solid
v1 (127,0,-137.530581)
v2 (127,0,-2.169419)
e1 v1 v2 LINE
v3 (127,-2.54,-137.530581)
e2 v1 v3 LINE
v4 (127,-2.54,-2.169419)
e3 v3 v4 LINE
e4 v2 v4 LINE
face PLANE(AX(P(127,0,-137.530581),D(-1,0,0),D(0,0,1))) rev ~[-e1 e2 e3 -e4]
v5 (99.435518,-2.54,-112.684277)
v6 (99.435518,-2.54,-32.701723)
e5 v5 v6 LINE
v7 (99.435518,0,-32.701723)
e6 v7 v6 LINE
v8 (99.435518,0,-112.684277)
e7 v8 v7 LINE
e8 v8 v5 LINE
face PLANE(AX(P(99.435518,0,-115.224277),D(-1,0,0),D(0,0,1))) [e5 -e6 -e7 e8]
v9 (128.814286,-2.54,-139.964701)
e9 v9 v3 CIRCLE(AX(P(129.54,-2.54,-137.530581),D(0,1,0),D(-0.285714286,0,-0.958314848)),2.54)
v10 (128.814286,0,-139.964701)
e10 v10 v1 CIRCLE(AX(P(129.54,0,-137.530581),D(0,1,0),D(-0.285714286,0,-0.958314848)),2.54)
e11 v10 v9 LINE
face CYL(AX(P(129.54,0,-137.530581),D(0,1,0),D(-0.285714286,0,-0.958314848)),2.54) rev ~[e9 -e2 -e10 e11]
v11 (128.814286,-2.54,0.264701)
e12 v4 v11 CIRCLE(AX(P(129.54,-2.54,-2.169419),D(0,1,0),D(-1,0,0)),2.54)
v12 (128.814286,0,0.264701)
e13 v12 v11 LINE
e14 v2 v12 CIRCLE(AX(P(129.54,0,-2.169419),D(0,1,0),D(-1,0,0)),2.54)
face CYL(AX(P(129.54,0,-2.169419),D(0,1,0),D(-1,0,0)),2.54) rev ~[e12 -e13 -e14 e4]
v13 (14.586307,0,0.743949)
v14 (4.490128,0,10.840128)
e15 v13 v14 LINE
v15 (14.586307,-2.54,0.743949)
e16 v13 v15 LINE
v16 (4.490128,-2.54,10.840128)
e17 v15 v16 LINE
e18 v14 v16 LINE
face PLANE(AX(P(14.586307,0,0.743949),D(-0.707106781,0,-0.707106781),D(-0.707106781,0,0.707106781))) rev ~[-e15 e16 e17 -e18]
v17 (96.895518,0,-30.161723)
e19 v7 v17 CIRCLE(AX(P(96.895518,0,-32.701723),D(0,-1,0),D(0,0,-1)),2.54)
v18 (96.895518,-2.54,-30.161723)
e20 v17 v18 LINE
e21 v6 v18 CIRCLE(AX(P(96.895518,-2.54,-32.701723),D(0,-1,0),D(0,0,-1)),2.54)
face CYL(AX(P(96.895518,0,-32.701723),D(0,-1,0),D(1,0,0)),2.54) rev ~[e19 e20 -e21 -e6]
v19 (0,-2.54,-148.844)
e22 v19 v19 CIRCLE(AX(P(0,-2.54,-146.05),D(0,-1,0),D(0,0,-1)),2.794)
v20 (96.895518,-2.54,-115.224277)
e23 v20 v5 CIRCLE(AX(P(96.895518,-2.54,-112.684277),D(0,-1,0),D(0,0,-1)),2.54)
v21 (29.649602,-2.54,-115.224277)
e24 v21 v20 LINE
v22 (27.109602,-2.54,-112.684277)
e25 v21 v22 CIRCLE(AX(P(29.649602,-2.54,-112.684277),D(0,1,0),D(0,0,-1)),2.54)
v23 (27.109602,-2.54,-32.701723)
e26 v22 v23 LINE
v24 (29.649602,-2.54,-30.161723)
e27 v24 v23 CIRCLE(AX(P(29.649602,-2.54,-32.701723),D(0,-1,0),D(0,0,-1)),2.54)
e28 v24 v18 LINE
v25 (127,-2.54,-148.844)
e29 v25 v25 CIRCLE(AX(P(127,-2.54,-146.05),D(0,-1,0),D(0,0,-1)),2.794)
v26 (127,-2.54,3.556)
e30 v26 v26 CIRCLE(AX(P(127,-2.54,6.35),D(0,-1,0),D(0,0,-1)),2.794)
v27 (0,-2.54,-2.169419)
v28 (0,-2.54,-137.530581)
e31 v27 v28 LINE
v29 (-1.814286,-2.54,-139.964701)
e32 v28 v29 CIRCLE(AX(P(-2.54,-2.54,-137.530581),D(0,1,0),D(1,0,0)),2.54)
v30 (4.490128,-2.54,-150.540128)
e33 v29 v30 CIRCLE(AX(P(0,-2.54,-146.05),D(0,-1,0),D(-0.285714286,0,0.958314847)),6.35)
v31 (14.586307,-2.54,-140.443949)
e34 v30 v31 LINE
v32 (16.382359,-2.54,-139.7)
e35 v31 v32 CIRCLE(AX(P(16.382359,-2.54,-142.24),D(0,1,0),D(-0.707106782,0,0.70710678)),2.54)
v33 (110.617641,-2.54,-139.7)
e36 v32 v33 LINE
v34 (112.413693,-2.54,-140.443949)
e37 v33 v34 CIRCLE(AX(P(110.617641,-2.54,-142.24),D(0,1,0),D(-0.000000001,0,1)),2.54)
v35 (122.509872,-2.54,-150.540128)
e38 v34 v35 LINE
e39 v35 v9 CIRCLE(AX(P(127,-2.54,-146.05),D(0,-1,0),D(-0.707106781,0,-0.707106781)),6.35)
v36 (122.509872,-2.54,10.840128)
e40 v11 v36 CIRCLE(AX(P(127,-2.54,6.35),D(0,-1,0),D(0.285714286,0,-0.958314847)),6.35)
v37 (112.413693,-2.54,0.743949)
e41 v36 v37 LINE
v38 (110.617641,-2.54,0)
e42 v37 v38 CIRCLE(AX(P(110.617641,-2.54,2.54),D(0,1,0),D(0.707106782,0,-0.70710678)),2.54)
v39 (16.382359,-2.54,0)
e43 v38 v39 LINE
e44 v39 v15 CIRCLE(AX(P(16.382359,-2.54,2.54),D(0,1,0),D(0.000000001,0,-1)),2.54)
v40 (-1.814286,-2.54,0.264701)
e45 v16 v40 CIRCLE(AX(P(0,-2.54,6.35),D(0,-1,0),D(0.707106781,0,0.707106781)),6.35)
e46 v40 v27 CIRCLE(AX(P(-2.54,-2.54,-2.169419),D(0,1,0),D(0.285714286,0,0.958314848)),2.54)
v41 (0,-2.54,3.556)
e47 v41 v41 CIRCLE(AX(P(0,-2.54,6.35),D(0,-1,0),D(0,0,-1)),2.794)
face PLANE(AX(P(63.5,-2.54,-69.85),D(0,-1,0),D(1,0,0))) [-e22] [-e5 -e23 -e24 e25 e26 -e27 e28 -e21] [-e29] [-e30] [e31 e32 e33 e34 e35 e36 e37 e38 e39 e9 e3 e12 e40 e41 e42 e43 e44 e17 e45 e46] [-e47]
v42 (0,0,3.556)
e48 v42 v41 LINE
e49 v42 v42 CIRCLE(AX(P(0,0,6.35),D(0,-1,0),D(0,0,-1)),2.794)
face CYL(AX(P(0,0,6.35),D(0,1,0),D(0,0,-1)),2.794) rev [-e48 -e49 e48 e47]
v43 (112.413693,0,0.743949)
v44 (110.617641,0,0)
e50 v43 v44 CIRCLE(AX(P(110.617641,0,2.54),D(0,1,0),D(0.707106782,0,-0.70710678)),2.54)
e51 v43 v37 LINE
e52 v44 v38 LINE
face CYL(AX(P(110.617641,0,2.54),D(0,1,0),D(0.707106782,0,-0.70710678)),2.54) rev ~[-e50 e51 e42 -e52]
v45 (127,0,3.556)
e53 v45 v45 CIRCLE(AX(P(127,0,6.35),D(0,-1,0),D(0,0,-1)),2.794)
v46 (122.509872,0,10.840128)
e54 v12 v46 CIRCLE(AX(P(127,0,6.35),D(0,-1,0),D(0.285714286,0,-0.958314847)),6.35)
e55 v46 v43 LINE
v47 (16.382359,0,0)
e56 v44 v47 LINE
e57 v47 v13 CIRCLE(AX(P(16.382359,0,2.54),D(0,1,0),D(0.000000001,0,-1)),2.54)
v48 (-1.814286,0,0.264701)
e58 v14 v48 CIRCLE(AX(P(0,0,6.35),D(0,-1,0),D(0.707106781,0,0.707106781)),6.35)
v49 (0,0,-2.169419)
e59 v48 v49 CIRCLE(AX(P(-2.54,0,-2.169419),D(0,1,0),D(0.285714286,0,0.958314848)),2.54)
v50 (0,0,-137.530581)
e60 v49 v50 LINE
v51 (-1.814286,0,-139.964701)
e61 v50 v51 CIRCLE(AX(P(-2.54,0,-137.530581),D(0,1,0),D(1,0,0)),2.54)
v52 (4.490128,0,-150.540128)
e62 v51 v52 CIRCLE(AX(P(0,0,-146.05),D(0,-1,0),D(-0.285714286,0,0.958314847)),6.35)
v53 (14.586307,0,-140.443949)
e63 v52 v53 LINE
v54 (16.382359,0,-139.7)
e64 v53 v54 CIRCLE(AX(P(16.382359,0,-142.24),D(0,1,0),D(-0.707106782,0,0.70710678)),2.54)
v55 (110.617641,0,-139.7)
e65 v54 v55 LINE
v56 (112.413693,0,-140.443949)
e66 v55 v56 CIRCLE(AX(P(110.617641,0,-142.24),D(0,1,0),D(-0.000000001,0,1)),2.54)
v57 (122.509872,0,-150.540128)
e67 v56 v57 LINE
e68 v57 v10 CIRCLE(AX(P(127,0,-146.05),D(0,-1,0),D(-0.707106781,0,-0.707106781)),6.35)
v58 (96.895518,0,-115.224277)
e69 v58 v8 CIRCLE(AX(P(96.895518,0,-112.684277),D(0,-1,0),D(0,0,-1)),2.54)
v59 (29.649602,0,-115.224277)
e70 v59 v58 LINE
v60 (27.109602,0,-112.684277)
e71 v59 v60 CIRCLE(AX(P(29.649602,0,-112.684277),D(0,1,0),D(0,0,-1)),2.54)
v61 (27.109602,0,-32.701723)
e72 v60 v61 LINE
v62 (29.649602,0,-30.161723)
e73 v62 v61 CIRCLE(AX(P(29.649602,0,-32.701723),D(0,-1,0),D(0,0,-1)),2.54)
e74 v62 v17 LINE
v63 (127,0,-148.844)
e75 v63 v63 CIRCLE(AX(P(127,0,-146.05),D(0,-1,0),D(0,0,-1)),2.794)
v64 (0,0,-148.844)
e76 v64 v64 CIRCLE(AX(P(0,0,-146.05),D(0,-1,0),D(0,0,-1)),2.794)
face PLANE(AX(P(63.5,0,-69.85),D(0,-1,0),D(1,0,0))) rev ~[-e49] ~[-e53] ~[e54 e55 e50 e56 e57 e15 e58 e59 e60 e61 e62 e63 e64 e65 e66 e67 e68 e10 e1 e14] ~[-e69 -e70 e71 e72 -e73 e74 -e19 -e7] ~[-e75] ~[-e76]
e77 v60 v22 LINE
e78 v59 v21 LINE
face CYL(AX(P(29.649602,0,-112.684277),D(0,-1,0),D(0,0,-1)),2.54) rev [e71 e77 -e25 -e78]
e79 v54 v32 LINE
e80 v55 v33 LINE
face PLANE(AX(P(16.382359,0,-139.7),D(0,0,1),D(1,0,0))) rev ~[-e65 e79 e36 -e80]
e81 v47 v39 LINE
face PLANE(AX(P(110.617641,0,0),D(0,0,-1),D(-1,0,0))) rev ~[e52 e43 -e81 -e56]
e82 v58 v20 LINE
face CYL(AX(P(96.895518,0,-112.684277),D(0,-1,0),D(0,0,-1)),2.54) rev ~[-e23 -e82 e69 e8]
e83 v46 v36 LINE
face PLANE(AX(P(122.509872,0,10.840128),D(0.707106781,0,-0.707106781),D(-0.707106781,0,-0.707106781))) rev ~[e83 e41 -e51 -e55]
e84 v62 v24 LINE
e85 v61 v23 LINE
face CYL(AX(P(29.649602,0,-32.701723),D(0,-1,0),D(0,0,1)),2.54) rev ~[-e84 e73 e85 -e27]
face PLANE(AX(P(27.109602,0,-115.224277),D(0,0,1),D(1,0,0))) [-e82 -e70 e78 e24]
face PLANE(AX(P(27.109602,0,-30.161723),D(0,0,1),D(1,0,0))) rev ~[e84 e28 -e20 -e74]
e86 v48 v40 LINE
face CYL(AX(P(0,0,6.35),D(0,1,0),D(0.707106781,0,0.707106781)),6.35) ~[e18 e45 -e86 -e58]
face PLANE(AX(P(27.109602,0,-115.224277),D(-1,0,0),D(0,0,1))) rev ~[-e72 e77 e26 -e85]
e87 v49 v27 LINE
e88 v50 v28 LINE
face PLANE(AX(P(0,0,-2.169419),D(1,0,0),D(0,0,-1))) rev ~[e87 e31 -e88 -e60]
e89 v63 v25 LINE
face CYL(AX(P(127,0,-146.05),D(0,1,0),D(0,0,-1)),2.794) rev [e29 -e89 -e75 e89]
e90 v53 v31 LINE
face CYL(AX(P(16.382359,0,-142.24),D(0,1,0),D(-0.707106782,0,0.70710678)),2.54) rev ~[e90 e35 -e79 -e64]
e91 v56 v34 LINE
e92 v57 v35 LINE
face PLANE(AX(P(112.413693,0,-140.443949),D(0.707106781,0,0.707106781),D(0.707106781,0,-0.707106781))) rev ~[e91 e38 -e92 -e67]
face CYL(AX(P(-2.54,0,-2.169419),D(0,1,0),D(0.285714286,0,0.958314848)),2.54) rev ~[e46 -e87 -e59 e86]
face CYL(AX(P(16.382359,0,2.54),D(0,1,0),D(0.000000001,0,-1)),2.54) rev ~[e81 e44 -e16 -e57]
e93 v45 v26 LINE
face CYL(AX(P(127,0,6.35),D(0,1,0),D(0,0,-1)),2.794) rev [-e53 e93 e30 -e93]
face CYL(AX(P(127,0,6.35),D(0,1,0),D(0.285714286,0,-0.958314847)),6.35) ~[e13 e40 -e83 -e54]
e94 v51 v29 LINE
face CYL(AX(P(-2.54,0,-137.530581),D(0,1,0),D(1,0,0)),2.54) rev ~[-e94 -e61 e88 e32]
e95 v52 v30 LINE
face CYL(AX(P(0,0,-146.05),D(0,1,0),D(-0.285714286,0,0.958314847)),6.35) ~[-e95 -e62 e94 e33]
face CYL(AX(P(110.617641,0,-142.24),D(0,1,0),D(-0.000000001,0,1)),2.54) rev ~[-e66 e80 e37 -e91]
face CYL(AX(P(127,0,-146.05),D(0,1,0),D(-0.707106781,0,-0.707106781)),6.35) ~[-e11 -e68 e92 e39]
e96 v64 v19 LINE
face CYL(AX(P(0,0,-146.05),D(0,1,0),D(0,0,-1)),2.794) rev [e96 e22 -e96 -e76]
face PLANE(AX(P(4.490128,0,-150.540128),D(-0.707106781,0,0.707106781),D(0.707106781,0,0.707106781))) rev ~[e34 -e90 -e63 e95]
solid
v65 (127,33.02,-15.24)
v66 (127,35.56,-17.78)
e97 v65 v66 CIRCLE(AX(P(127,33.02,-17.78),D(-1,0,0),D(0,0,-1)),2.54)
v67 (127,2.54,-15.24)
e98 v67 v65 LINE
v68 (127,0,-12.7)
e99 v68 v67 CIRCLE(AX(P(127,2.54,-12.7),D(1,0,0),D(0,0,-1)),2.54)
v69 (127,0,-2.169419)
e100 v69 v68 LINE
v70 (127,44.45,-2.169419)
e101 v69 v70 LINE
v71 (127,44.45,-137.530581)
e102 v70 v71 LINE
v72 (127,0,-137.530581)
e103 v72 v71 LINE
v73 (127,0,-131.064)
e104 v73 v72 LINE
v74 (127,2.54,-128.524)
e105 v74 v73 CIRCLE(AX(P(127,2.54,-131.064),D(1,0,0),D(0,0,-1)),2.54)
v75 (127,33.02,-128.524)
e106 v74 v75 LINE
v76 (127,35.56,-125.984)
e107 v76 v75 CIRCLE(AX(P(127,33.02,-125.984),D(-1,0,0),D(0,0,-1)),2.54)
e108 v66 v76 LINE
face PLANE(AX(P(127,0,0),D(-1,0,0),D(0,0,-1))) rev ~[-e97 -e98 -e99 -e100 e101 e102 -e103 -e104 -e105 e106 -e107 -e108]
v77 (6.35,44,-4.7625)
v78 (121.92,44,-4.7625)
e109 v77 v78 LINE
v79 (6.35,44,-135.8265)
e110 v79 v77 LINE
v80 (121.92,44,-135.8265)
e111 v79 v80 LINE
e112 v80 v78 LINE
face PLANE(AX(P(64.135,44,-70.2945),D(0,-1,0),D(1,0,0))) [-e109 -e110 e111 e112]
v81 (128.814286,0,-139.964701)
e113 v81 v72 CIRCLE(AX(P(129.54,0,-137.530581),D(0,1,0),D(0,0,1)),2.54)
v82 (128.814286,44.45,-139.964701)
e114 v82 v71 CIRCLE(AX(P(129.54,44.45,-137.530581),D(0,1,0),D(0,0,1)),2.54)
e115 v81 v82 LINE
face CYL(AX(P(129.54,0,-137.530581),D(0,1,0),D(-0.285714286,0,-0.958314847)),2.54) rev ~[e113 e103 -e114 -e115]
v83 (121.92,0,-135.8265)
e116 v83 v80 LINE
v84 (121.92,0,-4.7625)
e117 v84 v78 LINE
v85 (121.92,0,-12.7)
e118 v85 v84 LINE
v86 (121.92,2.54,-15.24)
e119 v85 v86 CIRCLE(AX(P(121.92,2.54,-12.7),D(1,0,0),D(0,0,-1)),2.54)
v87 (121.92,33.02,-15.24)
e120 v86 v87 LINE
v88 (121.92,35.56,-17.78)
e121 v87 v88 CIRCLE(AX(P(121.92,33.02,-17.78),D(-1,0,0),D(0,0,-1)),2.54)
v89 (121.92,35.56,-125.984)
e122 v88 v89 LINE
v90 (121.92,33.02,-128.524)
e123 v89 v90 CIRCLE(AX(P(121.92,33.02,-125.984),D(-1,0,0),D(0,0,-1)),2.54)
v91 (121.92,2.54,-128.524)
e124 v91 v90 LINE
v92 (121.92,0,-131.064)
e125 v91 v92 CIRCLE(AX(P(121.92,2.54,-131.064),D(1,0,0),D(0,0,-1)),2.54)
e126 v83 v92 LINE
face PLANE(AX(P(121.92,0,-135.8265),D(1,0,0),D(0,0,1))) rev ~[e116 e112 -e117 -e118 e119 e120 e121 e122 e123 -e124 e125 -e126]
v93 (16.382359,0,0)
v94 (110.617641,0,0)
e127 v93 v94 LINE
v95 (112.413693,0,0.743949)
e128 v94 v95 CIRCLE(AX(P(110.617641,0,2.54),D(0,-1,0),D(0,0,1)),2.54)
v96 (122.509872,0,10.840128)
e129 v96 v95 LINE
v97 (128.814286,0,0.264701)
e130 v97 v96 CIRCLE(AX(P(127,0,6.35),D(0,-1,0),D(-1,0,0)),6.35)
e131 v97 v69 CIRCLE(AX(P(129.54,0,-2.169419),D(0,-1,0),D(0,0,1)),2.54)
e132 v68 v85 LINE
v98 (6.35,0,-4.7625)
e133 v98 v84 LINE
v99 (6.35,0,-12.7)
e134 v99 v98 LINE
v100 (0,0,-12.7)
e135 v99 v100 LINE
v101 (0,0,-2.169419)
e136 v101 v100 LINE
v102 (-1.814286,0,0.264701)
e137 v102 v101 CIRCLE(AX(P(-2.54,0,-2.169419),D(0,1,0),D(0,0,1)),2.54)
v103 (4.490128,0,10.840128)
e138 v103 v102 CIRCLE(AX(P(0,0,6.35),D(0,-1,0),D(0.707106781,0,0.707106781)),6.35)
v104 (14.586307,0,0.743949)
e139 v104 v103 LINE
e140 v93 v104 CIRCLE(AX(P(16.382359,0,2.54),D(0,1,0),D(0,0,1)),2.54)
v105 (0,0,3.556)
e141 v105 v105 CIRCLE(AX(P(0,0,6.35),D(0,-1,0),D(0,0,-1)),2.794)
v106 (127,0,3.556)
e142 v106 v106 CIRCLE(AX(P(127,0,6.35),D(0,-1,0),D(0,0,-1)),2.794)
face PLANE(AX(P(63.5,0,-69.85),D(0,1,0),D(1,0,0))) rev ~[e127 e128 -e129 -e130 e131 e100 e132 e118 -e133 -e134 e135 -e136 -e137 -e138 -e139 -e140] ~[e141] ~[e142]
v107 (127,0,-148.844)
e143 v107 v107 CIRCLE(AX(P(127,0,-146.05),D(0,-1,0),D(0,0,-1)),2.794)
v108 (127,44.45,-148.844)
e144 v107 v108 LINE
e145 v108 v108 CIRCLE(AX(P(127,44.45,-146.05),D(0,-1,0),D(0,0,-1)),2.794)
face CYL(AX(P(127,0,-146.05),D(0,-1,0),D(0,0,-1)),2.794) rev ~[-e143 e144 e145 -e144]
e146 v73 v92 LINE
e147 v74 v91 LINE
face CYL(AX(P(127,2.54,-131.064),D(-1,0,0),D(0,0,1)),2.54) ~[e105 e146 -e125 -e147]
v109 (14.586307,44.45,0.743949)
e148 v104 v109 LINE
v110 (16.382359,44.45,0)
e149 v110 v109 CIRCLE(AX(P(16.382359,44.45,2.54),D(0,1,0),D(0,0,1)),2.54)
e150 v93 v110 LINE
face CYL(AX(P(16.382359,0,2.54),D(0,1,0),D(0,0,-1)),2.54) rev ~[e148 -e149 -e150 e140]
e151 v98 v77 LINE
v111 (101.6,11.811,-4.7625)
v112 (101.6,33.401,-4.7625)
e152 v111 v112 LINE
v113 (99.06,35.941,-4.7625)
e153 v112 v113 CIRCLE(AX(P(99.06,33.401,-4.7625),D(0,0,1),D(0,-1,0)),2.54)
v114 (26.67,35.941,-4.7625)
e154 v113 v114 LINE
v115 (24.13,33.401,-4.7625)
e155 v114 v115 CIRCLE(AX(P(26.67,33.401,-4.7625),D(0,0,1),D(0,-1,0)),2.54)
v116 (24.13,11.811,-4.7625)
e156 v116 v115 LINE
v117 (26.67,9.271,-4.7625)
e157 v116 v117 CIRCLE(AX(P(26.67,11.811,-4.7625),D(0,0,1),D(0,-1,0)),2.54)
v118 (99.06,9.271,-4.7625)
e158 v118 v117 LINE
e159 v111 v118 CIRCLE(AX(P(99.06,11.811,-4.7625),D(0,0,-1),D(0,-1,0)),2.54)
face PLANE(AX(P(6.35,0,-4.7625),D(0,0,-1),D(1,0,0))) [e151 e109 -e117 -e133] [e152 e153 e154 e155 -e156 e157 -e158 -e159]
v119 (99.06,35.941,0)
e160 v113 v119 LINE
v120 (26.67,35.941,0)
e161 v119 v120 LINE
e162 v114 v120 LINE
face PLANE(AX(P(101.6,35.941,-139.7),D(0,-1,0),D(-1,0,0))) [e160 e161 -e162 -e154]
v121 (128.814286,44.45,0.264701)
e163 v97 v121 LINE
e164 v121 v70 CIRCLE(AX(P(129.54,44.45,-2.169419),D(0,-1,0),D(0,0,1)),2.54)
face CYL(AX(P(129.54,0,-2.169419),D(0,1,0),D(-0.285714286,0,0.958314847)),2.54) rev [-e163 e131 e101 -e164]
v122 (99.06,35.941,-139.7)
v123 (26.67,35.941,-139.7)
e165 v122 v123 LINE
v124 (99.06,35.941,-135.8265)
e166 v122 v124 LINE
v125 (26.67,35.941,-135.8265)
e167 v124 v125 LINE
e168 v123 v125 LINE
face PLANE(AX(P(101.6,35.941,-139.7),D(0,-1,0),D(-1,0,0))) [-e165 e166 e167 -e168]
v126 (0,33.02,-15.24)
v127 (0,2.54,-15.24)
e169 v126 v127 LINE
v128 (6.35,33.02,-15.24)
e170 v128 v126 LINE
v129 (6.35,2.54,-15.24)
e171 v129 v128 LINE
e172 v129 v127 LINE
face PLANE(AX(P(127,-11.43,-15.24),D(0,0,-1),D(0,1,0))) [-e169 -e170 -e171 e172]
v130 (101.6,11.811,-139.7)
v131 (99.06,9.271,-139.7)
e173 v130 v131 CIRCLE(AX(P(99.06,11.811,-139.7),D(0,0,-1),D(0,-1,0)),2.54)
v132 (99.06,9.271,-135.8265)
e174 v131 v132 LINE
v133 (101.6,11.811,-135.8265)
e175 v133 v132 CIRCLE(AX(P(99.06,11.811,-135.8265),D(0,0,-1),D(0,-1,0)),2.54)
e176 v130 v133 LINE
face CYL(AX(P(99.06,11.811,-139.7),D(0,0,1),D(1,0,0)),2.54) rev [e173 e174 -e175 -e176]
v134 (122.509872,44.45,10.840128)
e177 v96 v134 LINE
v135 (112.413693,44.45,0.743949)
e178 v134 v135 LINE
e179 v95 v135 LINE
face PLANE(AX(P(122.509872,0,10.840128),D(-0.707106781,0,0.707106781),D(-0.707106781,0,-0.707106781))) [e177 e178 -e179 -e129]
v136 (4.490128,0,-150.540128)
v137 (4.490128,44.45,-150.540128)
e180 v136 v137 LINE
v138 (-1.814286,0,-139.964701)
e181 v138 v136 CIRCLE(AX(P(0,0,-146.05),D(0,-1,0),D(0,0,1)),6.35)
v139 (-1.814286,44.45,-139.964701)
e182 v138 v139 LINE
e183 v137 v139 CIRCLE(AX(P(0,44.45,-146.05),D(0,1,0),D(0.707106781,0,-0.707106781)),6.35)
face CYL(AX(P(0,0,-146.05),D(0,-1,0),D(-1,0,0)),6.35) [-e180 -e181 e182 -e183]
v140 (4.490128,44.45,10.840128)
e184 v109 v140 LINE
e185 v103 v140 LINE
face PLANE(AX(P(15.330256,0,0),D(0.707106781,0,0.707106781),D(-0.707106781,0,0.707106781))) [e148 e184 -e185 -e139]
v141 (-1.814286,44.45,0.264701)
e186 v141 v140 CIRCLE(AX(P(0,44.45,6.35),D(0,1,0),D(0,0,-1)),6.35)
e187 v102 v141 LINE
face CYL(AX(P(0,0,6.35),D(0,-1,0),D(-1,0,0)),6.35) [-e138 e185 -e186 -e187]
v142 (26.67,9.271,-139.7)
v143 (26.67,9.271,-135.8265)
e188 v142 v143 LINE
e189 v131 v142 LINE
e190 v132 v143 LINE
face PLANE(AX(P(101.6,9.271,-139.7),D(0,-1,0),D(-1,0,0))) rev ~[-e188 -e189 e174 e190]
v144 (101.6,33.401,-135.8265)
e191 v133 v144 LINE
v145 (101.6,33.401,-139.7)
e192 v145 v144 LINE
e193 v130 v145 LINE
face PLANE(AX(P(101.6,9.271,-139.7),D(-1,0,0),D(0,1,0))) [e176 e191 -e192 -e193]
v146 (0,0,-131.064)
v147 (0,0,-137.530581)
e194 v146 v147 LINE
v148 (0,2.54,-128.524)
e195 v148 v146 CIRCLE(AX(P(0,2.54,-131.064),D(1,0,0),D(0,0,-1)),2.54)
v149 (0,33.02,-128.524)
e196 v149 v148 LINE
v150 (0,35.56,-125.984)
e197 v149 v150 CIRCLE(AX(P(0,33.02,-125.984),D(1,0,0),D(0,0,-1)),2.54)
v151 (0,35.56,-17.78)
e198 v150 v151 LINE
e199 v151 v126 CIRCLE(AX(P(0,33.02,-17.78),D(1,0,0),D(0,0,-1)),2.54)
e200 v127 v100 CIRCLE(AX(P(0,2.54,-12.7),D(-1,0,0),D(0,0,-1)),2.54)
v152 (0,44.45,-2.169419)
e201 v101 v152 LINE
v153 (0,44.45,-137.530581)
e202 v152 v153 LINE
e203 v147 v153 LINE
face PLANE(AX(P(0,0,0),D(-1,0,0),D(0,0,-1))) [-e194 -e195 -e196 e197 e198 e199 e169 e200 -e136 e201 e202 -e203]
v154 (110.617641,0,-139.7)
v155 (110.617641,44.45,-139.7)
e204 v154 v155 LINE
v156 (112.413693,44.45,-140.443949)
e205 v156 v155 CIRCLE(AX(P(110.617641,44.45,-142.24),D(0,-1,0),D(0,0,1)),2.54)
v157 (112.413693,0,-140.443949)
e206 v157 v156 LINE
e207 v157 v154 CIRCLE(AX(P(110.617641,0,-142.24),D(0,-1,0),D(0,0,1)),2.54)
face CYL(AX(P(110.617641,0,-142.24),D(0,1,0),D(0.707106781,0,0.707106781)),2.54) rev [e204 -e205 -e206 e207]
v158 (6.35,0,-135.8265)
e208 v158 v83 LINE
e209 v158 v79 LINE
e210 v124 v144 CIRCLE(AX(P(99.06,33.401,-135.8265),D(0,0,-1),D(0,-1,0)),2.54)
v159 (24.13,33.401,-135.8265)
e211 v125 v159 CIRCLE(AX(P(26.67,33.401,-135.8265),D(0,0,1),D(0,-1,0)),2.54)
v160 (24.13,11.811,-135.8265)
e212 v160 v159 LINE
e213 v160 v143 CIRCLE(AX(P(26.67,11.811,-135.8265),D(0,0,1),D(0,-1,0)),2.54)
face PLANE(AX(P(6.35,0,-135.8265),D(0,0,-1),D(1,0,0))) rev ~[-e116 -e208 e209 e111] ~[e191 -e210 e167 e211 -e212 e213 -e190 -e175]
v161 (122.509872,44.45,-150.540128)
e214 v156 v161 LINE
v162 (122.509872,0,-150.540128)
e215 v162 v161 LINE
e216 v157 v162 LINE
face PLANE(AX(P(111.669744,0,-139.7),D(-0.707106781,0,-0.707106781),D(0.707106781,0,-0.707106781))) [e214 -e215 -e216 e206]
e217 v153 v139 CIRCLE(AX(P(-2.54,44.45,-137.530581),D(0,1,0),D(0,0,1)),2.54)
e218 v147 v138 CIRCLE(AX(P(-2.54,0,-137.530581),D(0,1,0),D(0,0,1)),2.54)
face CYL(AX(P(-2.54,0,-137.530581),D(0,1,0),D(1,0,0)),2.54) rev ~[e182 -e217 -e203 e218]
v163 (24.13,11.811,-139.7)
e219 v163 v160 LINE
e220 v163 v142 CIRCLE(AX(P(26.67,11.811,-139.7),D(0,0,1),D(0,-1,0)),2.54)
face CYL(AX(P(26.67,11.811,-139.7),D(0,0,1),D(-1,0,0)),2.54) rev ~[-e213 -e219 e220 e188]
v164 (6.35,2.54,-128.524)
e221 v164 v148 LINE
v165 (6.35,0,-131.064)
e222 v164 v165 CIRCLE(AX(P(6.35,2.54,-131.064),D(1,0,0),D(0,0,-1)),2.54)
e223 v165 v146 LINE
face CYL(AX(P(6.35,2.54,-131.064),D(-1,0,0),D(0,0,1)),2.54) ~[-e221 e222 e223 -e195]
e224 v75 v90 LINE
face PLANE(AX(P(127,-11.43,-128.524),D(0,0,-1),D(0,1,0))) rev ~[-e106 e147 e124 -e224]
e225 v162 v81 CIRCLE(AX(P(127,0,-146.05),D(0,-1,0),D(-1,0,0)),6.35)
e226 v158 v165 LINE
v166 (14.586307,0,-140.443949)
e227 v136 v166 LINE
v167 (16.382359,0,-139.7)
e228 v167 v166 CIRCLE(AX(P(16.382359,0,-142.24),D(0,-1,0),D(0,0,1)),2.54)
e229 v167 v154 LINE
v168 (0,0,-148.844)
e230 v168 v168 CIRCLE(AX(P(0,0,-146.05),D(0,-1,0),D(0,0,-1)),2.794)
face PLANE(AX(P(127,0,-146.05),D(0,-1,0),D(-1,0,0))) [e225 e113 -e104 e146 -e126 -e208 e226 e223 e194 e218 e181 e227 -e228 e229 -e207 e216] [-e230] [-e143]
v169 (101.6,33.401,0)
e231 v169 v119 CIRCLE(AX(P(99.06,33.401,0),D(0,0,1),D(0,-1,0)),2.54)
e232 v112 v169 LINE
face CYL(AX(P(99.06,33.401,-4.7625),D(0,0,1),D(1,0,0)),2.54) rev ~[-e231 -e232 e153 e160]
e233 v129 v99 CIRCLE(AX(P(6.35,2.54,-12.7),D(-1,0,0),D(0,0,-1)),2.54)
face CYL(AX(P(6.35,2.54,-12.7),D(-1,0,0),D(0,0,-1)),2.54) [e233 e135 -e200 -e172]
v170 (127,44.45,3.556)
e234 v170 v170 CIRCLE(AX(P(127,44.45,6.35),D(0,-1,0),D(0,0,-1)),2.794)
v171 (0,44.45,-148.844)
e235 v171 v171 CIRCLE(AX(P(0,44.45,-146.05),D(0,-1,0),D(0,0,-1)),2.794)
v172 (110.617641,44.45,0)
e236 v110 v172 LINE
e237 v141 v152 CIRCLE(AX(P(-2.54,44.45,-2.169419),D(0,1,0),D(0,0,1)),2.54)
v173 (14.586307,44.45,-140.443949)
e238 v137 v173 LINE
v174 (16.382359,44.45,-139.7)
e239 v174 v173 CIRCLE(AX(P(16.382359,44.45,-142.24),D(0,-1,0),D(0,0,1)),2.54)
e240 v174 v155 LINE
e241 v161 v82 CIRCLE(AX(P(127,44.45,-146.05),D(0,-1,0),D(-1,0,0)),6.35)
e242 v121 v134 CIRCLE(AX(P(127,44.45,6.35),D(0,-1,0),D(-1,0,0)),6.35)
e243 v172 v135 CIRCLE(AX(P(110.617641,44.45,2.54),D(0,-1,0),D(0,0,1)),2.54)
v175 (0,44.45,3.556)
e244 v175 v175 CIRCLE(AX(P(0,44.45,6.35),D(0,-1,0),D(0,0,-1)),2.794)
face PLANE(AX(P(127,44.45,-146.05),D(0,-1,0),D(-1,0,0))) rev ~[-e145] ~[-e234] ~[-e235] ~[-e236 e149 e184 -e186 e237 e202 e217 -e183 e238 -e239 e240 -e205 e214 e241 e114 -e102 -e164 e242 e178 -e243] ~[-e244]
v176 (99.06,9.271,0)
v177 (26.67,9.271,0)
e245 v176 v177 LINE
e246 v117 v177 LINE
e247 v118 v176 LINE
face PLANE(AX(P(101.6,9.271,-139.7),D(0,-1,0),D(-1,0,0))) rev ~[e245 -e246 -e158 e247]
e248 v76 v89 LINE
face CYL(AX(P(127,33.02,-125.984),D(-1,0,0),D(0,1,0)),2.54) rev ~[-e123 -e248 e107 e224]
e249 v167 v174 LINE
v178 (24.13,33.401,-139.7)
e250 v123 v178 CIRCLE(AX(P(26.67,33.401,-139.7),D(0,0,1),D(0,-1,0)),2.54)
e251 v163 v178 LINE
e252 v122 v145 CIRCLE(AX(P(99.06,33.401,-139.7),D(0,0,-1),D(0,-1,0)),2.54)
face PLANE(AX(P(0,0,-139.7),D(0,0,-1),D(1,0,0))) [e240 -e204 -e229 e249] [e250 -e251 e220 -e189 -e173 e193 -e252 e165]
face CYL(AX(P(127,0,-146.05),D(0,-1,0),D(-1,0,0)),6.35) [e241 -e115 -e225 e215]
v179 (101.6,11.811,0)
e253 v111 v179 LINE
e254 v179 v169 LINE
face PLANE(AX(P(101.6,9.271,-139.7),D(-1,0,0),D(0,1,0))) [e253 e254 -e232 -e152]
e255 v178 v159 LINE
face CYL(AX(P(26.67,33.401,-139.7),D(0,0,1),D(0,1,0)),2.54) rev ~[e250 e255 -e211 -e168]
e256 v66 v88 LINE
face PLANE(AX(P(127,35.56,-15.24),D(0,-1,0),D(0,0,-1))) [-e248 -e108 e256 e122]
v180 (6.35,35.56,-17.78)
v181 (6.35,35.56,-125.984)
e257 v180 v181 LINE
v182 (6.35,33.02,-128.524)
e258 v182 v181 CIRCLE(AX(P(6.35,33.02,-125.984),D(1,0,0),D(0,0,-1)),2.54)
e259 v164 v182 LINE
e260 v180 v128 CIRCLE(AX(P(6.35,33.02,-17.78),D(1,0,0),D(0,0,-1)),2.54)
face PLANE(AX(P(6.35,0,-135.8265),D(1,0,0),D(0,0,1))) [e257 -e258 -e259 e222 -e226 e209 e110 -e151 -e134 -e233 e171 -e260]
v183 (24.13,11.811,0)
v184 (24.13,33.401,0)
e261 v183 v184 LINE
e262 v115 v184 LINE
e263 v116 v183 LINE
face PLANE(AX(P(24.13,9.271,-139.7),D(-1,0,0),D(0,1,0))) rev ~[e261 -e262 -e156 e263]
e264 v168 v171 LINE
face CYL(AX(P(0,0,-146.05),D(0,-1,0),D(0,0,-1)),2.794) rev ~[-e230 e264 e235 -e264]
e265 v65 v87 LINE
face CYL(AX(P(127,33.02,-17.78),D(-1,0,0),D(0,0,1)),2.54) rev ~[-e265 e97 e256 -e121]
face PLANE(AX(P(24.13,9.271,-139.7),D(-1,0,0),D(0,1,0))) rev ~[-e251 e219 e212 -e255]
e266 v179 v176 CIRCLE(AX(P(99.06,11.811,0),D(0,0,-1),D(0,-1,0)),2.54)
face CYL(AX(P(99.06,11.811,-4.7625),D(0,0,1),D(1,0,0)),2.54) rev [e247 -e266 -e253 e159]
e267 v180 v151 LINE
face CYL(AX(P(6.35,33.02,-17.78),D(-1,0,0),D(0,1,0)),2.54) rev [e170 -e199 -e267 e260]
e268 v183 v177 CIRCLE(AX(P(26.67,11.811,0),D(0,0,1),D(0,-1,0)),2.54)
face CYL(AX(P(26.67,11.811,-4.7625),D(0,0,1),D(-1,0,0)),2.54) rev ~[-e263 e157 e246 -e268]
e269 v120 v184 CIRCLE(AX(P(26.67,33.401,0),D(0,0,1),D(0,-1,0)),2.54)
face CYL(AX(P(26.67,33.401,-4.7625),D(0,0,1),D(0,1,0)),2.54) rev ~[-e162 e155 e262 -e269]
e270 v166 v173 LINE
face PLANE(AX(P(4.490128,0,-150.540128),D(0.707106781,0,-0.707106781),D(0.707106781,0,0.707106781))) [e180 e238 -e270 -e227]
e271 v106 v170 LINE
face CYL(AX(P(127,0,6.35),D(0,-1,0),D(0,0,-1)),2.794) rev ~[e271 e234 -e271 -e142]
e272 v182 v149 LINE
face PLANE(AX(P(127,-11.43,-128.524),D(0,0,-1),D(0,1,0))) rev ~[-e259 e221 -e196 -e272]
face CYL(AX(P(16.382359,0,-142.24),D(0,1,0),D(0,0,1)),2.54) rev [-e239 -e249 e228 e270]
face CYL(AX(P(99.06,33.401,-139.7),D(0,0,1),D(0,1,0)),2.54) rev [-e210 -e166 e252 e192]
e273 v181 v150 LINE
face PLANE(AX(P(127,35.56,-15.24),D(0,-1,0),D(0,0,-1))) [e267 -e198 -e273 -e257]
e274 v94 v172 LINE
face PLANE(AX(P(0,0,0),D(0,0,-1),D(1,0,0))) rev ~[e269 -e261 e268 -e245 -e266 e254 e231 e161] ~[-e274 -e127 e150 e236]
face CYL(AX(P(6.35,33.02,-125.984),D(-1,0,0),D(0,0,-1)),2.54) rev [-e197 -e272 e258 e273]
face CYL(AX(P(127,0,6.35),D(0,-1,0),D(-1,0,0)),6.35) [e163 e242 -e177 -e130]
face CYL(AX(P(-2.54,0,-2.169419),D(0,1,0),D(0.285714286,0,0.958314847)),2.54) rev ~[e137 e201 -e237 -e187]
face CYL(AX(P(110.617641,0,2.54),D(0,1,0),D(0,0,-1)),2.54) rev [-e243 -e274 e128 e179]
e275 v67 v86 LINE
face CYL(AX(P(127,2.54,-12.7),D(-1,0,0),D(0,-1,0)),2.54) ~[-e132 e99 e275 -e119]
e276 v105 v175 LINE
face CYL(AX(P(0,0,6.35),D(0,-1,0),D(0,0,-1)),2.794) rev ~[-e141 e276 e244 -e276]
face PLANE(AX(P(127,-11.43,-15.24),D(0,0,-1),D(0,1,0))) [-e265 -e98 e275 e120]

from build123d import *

# Parameters (mm, degrees)
SKETCH1_W           = 127
SKETCH1_H           = 139.7
BOSS_EXTRUDE1_DEPTH = 44.45
SKETCH3_W           = 115.57
SKETCH3_H           = 131.064
CUT_EXTRUDE1_DEPTH  = 44
SKETCH4_W           = 77.47
SKETCH4_H           = 26.67
CUT_EXTRUDE2_DEPTH  = 190.754
SKETCH5_W           = 113.284
SKETCH5_H           = 46.99
CUT_EXTRUDE3_DEPTH  = 190.754
SKETCH6_R           = 6.35
SKETCH6_R_2         = 2.794
BOSS_EXTRUDE2_DEPTH = 44.45
FILLET1_R           = 2.54
SKETCH7_R           = 2.794
SKETCH7_W           = 72.32591523
SKETCH7_H           = 85.062554391
BOSS_EXTRUDE3_DEPTH = 2.54
FILLET2_R           = 2.54


with BuildPart() as part:
    # Sketch1 → Boss-Extrude1 (new body)
    with BuildSketch(Plane(origin=(0, 0, 0), x_dir=(1, 0, 0), z_dir=(0, 1, 0))):
        with Locations((63.5, 69.85)):
            Rectangle(SKETCH1_W, SKETCH1_H)
    extrude(amount=BOSS_EXTRUDE1_DEPTH)

    # Sketch3 → Cut-Extrude1 (cut)
    with BuildSketch(Plane.XZ):
        with Locations((64.135, -70.2945)):
            Rectangle(SKETCH3_W, SKETCH3_H)
    extrude(amount=-CUT_EXTRUDE1_DEPTH, mode=Mode.SUBTRACT)

    # Sketch4 → Cut-Extrude2 (cut)
    with BuildSketch(Plane(origin=(0, 0, -139.7), x_dir=(-1, 0, 0), z_dir=(0, 0, -1))):
        with Locations((-62.865, 22.606)):
            Rectangle(SKETCH4_W, SKETCH4_H)
    extrude(amount=-CUT_EXTRUDE2_DEPTH, mode=Mode.SUBTRACT)

    # Sketch5 → Cut-Extrude3 (cut)
    with BuildSketch(Plane(origin=(127, 0, 0), x_dir=(0, 0, -1), z_dir=(1, 0, 0))):
        with Locations((71.882, 12.065)):
            Rectangle(SKETCH5_W, SKETCH5_H)
    extrude(amount=-CUT_EXTRUDE3_DEPTH, mode=Mode.SUBTRACT)

    # Sketch6 → Boss-Extrude2 (add, through all)
    # profile 1 of 8: a face of its own
    with BuildSketch(Plane(origin=(0, 0, 0), x_dir=(-1, 0, 0), z_dir=(0, -1, 0))):
        with Locations((-127, 146.05)):
            Circle(SKETCH6_R)
        with Locations(Location((-127, 146.05, 0), (0, 0, 90))):
            Circle(SKETCH6_R_2, mode=Mode.SUBTRACT)
    # profile 2 of 8: a face of its own
    with BuildSketch(Plane(origin=(0, 0, 0), x_dir=(-1, 0, 0), z_dir=(0, -1, 0))):
        with BuildLine():
            Line((-111.669743879, 139.7), (-122.509871939, 150.540128061))
            ThreePointArc((-122.509871939, 150.540128061), (-121.133364969, 148.480039796), (-120.65, 146.05))
            ThreePointArc((-120.65, 146.05), (-122.509871939, 141.559871939), (-127, 139.7))
            Line((-127, 139.7), (-111.669743879, 139.7))
        make_face()
    # profile 3 of 8: a face of its own
    with BuildSketch(Plane(origin=(0, 0, 0), x_dir=(-1, 0, 0), z_dir=(0, -1, 0))):
        with BuildLine():
            Line((-4.490128061, 150.540128061), (-15.330256121, 139.7))
            Line((-15.330256121, 139.7), (0, 139.7))
            ThreePointArc((0, 139.7), (-5.866635031, 143.619960204), (-4.490128061, 150.540128061))
        make_face()
    # profile 4 of 8: a face of its own
    with BuildSketch(Plane(origin=(0, 0, 0), x_dir=(-1, 0, 0), z_dir=(0, -1, 0))):
        with Locations((-127, -6.35)):
            Circle(SKETCH6_R)
        with Locations(Location((-127, -6.35, 0), (0, 0, 90))):
            Circle(SKETCH6_R_2, mode=Mode.SUBTRACT)
    # profile 5 of 8: a face of its own
    with BuildSketch(Plane(origin=(0, 0, 0), x_dir=(-1, 0, 0), z_dir=(0, -1, 0))):
        with BuildLine():
            Line((-122.509871939, -10.840128061), (-111.669743879, 0))
            Line((-111.669743879, 0), (-127, 0))
            ThreePointArc((-127, 0), (-122.509871939, -1.859871939), (-120.65, -6.35))
            ThreePointArc((-120.65, -6.35), (-121.133364969, -8.780039796), (-122.509871939, -10.840128061))
        make_face()
    # profile 6 of 8: a face of its own
    with BuildSketch(Plane(origin=(0, 0, 0), x_dir=(-1, 0, 0), z_dir=(0, -1, 0))):
        with BuildLine():
            Line((-15.330256121, 0), (-4.490128061, -10.840128061))
            ThreePointArc((-4.490128061, -10.840128061), (-5.866635031, -3.919960204), (0, 0))
            Line((0, 0), (-15.330256121, 0))
        make_face()
    # profile 7 of 8: a face of its own
    with BuildSketch(Plane(origin=(0, 0, 0), x_dir=(-1, 0, 0), z_dir=(0, -1, 0))):
        with Locations((0, -6.35)):
            Circle(SKETCH6_R)
        with Locations(Location((0, -6.35, 0), (0, 0, 90))):
            Circle(SKETCH6_R_2, mode=Mode.SUBTRACT)
    # profile 8 of 8: a face of its own
    with BuildSketch(Plane(origin=(0, 0, 0), x_dir=(-1, 0, 0), z_dir=(0, -1, 0))):
        with Locations((0, 146.05)):
            Circle(SKETCH6_R)
        with Locations(Location((0, 146.05, 0), (0, 0, 90))):
            Circle(SKETCH6_R_2, mode=Mode.SUBTRACT)
    extrude(amount=-BOSS_EXTRUDE2_DEPTH)

    # Fillet1
    fillet1_edges = [part.edges().sort_by_distance(p)[0] for p in [
        (111.669743879, 22.225, 0),
        (15.330256121, 22.225, 0),
        (15.330256121, 22.225, -139.7),
        (101.6, 9.271, -2.38125),
        (101.6, 9.271, -137.76325),
        (101.6, 35.941, -2.38125),
        (101.6, 35.941, -137.76325),
        (24.13, 35.941, -2.38125),
        (24.13, 35.941, -137.76325),
        (24.13, 9.271, -2.38125),
        (24.13, 9.271, -137.76325),
        (124.46, 0, -15.24),
        (3.175, 0, -15.24),
        (3.175, 35.56, -15.24),
        (124.46, 35.56, -15.24),
        (3.175, 35.56, -128.524),
        (3.175, 0, -128.524),
        (124.46, 0, -128.524),
        (124.46, 35.56, -128.524),
        (0, 22.225, -139.7),
        (127, 22.225, -139.7),
        (127, 22.225, 0),
        (0, 22.225, 0),
        (111.669743879, 22.225, -139.7),
    ]]
    fillet(fillet1_edges, radius=FILLET1_R)


with BuildPart() as body_2:
    # Sketch7 → Boss-Extrude3 (new body)
    with BuildSketch(Plane.XZ):
        with BuildLine():
            Line((127, -12.7), (127, -2.169418994))
            ThreePointArc((127, -2.169418994), (127.503469337, -0.65147866), (128.814285714, 0.264700718))
            ThreePointArc((128.814285714, 0.264700718), (132.454351376, 9.60154595), (122.509871939, 10.840128061))
            Line((122.509871939, 10.840128061), (112.413692655, 0.743948776))
            ThreePointArc((112.413692655, 0.743948776), (111.589657349, 0.193345987), (110.617641431, 0))
            Line((110.617641431, 0), (16.382358569, 0))
            ThreePointArc((16.382358569, 0), (15.410342651, 0.193345987), (14.586307345, 0.743948776))
            Line((14.586307345, 0.743948776), (4.490128061, 10.840128061))
            ThreePointArc((4.490128061, 10.840128061), (-5.454351376, 9.60154595), (-1.814285714, 0.264700718))
            ThreePointArc((-1.814285714, 0.264700718), (-0.503469337, -0.65147866), (0, -2.169418994))
            Line((0, -2.169418994), (0, -12.7))
            Line((0, -12.7), (0, -131.064))
            Line((0, -131.064), (0, -137.530581006))
            ThreePointArc((0, -137.530581006), (-0.503469337, -139.04852134), (-1.814285714, -139.964700718))
            ThreePointArc((-1.814285714, -139.964700718), (-5.454351376, -149.30154595), (4.490128061, -150.540128061))
            Line((4.490128061, -150.540128061), (14.586307345, -140.443948776))
            ThreePointArc((14.586307345, -140.443948776), (15.410342651, -139.893345987), (16.382358569, -139.7))
            Line((16.382358569, -139.7), (110.617641431, -139.7))
            ThreePointArc((110.617641431, -139.7), (111.589657349, -139.893345987), (112.413692655, -140.443948776))
            Line((112.413692655, -140.443948776), (122.509871939, -150.540128061))
            ThreePointArc((122.509871939, -150.540128061), (132.454351376, -149.30154595), (128.814285714, -139.964700718))
            ThreePointArc((128.814285714, -139.964700718), (127.503469337, -139.04852134), (127, -137.530581006))
            Line((127, -137.530581006), (127, -131.064))
            Line((127, -131.064), (127, -12.7))
        make_face()
        with Locations(Location((127, -146.05, 0), (0, 0, 270))):
            Circle(SKETCH7_R, mode=Mode.SUBTRACT)
        with Locations(Location((0, -146.05, 0), (0, 0, 270))):
            Circle(SKETCH7_R, mode=Mode.SUBTRACT)
        with Locations(Location((127, 6.35, 0), (0, 0, 270))):
            Circle(SKETCH7_R, mode=Mode.SUBTRACT)
        with Locations(Location((0, 6.35, 0), (0, 0, 270))):
            Circle(SKETCH7_R, mode=Mode.SUBTRACT)
        with Locations((63.272560015, -72.692999813)):
            Rectangle(SKETCH7_W, SKETCH7_H, mode=Mode.SUBTRACT)
    extrude(amount=BOSS_EXTRUDE3_DEPTH)

    # Fillet2
    fillet2_edges = [body_2.edges().sort_by_distance(p)[0] for p in [
        (27.1096024, -1.27, -30.161722617),
        (27.1096024, -1.27, -115.224277008),
        (99.43551763, -1.27, -115.224277008),
        (99.43551763, -1.27, -30.161722617),
    ]]
    fillet(fillet2_edges, radius=FILLET2_R)


solid = Compound([part.part, body_2.part])
